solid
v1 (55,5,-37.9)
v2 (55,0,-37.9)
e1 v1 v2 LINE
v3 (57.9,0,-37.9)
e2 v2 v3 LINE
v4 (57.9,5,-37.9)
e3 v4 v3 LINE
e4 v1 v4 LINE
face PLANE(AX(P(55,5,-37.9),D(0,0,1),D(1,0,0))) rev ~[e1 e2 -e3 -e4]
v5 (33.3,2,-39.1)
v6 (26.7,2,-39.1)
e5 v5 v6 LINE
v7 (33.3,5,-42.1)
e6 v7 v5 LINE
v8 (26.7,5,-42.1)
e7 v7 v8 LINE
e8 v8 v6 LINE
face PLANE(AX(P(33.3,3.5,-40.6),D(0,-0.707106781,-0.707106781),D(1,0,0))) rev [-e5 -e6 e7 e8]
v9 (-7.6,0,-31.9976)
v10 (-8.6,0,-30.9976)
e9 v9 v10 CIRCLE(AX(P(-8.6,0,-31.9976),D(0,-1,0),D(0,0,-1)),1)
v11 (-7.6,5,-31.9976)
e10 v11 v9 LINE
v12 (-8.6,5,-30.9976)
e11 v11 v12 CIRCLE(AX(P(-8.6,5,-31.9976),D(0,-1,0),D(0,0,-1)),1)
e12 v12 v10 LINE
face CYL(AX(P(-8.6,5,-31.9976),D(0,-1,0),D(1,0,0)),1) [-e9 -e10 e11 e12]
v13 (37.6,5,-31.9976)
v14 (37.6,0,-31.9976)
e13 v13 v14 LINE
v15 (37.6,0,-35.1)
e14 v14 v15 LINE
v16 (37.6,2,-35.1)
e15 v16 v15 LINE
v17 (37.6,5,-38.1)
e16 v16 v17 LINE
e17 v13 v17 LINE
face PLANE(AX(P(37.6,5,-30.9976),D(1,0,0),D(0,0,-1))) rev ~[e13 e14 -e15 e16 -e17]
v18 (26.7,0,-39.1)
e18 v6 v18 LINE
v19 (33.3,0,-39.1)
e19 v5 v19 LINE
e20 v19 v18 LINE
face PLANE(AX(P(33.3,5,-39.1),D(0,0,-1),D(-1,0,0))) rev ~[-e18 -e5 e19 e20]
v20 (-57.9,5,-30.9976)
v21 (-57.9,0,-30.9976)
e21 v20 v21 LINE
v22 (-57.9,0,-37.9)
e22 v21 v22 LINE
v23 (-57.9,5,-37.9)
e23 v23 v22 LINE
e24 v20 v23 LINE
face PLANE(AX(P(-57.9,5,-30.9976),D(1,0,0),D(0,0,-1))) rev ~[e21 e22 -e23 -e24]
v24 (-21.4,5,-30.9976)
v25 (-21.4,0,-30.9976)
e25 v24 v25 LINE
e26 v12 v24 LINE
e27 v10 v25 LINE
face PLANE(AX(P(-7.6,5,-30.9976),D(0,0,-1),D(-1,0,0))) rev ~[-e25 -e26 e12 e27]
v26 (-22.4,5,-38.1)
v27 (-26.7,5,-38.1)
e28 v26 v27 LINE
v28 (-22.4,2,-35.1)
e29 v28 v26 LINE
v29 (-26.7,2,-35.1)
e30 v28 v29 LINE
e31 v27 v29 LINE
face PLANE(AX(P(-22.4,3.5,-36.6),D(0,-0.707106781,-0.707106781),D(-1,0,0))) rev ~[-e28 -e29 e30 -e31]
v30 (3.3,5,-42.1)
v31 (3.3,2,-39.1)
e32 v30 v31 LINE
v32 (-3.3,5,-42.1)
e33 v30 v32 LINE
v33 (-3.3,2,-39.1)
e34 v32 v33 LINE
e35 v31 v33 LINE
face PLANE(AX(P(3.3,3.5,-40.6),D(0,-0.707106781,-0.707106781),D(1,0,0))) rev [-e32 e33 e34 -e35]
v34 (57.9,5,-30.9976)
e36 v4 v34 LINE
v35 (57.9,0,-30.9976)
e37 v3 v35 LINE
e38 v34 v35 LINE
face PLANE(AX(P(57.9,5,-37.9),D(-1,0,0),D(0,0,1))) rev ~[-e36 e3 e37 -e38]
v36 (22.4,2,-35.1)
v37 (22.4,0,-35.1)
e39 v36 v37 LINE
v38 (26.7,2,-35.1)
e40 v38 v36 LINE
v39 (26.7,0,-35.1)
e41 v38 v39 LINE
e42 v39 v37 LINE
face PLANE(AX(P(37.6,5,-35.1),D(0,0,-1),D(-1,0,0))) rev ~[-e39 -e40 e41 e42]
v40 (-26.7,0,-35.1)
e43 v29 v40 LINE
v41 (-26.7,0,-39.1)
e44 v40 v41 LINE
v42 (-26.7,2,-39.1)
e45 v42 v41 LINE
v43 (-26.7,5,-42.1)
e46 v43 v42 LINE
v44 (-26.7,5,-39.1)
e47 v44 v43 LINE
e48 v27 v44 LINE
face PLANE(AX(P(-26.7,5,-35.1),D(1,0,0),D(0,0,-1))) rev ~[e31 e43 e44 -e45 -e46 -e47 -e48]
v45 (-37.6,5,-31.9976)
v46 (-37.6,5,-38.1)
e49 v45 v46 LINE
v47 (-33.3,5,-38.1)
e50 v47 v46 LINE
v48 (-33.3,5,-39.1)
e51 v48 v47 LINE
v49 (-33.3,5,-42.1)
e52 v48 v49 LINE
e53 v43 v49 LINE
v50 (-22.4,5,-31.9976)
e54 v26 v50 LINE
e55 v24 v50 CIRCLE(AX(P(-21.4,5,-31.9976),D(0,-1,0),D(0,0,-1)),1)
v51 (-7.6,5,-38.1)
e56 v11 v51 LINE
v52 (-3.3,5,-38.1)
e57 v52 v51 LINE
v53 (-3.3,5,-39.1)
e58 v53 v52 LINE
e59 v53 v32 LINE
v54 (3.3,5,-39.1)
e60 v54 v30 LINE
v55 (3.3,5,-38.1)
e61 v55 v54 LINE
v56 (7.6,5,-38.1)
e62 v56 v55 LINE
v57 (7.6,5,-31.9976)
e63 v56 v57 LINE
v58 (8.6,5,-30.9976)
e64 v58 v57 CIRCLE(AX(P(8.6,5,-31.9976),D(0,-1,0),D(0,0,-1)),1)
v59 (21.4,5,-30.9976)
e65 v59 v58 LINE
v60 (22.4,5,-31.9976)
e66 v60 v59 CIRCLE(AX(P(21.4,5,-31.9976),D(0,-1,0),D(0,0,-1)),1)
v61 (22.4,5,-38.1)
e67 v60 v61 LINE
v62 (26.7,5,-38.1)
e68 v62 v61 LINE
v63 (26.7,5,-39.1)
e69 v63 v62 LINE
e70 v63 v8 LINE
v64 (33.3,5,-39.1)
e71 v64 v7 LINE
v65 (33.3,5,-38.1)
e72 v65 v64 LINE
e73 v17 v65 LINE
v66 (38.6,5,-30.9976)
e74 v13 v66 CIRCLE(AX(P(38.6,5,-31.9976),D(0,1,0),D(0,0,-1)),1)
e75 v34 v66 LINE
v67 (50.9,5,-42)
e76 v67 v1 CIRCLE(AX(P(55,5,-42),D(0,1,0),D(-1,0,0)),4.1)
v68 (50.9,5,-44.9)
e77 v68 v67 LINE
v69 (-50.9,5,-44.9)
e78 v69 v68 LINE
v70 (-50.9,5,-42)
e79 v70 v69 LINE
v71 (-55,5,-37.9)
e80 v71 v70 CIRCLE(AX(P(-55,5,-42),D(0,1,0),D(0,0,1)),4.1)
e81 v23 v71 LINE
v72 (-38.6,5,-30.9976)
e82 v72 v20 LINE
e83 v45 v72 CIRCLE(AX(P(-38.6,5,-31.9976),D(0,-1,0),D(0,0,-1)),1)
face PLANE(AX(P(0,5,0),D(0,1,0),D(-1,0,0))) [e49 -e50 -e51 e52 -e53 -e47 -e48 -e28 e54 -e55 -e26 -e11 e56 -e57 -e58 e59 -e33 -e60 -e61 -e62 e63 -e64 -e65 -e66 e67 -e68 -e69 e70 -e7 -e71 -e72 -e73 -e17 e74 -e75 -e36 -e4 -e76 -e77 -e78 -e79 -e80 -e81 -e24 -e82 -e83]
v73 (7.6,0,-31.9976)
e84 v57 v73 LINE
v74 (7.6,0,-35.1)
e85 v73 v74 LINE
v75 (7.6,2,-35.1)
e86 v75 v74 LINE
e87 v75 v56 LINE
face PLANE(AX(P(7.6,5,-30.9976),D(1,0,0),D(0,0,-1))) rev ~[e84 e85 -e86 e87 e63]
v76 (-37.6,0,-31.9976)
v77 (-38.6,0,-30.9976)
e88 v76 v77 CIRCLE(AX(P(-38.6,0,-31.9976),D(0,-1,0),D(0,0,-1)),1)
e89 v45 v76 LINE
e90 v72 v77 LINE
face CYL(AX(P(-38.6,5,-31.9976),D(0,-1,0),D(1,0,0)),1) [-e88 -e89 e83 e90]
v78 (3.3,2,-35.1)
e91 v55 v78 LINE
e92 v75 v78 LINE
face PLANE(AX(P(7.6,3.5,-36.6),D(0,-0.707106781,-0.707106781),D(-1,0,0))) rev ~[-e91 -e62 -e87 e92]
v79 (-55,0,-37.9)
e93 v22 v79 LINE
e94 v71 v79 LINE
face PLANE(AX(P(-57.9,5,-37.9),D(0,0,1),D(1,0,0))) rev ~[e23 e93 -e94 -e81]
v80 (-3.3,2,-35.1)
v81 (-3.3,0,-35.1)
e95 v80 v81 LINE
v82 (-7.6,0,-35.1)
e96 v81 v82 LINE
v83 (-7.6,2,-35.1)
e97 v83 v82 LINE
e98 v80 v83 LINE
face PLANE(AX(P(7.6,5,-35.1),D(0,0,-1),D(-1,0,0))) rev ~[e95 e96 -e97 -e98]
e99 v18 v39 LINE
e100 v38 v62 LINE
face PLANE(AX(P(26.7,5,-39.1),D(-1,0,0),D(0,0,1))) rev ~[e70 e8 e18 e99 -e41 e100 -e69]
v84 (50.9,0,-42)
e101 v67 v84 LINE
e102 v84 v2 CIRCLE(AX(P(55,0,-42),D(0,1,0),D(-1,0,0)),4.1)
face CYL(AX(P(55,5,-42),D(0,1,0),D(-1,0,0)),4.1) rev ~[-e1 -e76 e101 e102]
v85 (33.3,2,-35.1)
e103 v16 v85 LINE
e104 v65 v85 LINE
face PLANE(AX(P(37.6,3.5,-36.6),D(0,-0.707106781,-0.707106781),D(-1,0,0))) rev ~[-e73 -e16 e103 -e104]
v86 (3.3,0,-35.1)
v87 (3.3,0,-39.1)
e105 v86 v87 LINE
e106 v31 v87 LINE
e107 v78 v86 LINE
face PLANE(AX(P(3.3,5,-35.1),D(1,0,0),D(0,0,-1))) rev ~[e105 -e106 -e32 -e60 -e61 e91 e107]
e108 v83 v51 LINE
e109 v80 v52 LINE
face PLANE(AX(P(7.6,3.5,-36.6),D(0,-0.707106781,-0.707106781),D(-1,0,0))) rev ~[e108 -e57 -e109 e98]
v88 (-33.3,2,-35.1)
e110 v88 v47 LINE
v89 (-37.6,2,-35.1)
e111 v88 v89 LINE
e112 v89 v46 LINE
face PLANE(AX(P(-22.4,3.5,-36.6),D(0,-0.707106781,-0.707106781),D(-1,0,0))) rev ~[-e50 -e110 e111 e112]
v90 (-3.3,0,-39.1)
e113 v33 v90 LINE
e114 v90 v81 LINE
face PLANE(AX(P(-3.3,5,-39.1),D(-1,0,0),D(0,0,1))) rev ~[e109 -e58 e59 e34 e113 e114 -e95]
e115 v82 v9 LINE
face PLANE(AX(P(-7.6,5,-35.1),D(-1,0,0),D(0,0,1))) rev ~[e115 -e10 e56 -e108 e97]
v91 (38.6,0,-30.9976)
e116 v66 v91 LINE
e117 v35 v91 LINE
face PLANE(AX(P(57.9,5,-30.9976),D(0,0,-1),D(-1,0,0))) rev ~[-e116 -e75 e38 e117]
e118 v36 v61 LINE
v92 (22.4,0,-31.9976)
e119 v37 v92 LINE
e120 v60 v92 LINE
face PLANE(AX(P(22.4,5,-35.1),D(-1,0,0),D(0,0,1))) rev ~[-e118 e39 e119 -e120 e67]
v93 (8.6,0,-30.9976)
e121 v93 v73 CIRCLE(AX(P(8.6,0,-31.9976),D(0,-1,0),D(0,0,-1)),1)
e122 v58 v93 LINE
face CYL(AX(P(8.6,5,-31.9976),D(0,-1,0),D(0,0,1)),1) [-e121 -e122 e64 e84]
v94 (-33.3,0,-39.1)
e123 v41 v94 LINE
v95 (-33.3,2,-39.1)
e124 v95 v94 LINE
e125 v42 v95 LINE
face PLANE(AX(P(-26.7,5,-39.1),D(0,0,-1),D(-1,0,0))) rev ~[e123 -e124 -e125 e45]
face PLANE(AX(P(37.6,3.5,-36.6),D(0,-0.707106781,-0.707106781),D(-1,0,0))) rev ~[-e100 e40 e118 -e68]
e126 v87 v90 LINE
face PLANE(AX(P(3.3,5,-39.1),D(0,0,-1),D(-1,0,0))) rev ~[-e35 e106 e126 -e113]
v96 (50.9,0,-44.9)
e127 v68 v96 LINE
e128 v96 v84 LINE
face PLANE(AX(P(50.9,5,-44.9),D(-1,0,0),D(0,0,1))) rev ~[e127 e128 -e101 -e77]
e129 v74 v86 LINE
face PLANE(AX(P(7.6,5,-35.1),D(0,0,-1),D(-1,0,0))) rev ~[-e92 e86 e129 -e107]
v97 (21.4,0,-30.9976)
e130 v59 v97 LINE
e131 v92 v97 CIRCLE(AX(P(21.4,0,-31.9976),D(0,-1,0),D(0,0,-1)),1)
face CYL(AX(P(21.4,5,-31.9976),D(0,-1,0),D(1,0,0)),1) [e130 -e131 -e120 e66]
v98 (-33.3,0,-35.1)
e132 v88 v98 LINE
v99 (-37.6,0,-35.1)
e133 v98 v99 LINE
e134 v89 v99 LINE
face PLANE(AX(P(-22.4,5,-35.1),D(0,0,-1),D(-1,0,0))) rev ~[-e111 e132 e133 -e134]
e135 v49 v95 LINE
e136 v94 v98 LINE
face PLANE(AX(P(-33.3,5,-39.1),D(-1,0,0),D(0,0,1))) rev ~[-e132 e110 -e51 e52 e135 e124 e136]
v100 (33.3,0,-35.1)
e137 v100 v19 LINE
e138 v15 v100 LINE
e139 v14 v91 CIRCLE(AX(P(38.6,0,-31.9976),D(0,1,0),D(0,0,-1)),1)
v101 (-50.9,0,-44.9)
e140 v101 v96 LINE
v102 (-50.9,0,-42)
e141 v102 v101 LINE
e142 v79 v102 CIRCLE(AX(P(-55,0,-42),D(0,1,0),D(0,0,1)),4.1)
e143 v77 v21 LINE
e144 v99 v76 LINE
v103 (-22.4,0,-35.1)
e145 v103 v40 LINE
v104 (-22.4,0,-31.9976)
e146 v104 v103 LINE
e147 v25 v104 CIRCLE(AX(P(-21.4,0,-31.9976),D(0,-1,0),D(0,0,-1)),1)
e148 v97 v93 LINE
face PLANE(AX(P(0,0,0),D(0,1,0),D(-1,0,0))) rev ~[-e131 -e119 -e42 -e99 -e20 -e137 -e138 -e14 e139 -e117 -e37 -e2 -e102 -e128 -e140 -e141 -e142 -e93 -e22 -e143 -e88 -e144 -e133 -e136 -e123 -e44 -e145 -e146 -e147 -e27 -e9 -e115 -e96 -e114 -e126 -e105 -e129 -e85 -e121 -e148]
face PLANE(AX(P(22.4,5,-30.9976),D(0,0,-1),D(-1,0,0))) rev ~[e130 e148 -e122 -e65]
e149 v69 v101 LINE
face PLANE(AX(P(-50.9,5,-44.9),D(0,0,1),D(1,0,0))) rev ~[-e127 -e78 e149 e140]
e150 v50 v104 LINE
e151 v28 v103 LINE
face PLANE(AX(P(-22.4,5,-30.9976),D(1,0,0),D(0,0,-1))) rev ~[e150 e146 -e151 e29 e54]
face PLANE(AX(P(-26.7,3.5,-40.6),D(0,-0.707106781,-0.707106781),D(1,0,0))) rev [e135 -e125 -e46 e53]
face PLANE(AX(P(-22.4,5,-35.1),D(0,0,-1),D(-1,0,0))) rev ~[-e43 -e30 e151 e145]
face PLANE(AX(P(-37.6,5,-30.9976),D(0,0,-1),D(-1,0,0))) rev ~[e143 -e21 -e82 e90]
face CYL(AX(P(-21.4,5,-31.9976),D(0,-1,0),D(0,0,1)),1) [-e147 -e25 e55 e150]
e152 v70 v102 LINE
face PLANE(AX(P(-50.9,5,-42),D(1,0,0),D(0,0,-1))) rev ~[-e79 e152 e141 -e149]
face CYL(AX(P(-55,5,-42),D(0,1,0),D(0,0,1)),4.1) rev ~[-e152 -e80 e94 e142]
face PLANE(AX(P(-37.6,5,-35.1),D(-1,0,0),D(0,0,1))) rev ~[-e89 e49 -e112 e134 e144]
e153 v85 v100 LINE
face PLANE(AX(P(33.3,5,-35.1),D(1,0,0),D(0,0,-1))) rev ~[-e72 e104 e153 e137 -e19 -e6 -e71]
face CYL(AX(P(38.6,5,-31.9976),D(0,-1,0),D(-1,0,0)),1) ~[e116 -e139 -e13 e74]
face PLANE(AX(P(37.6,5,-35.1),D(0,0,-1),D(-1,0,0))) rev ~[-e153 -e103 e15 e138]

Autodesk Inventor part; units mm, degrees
ref_plane "YZ Plane" through (0, 0, 0) normal (1, 0, 0) x (0, 1, 0)
ref_plane "XZ Plane" through (0, 0, 0) normal (0, 1, 0) x (-1, 0, 0)
ref_plane "XY Plane" through (0, 0, 0) normal (0, 0, 1) x (1, 0, 0)
sketch "Esquisse1" plane through (0, 0, 0) normal (0, 1, 0) x (-1, 0, 0)
  line L0 (60, -42) -> (60, 42)
  line L1 (55, 39) -> (57, 39)
  arc A0 (52, 42) -> (55, 39) centre (55, 42) ccw
  line L2 (52, 44) -> (52, 42)
  line L3 (55, 46) -> (-55, 46)
  circle A1 centre (55, 42.115) radius 2
  arc A2 (60, 42) -> (55, 47) centre (55, 42) ccw
  line L4 (55, 47) -> (-55, 47)
  line L5 (-55, 47) -> (55, 47)
  line L6 (51, 45) -> (-51, 45)
  line L7 (-52, 42) -> (-51, 42)
  arc A3 (-57, 39) -> (-58, 38) centre (-57, 38) ccw
  circle A4 centre (-55, 42.115) radius 2
  line L8 (-55, 39) -> (-55, 38)
  line L9 (-52, 44) -> (-52, 42)
  arc A5 (-51, 45) -> (-52, 44) centre (-51, 44) ccw
  line L10 (-55, 39) -> (-57, 39)
  arc A6 (-55, 39) -> (-52, 42) centre (-55, 42) ccw
  arc A7 (-57, 39) -> (-58, 38) centre (-57, 38) ccw
  circle A8 centre (55, -42.115) radius 2
  line L11 (-55, -39) -> (-57, -39)
  arc A9 (-52, -42) -> (-55, -39) centre (-55, -42) ccw
  line L12 (-52, -44) -> (-52, -42)
  line L13 (52, -42) -> (52, -44)
  circle A10 centre (-55, -42.115) radius 2
  line L14 (-51, -45) -> (51, -45)
  line L15 (51, -45) -> (-51, -45)
  line L16 (-55, -46) -> (55, -46)
  line L17 (-55, -47) -> (55, -47)
  line L18 (55, -47) -> (-55, -47)
  arc A11 (-51, 45) -> (-52, 44) centre (-51, 44) ccw
  line L19 (-52, 42) -> (-52, 44)
  arc A12 (-55, 46) -> (-59, 42) centre (-55, 42) ccw
  line L20 (-51, 42) -> (-51, 45)
  arc A13 (-55, 47) -> (-60, 42) centre (-55, 42) ccw
  circle A14 centre (-55, 42.115) radius 2
  line L21 (-55, 46) -> (-55, 47)
  arc A15 (-55, 47) -> (-60, 42) centre (-55, 42) ccw
  line L22 (52, -42) -> (51, -42)
  arc A16 (51, -45) -> (52, -44) centre (51, -44) ccw
  line L23 (-51, 45) -> (51, 45)
  arc A17 (52, 42) -> (55, 39) centre (55, 42) ccw
  line L24 (55, -39) -> (55, -38)
  line L25 (57, -39) -> (55, -39)
  line L26 (55, -39) -> (57, -39)
  arc A18 (55, -39) -> (52, -42) centre (55, -42) ccw
  arc A19 (57, -39) -> (58, -38) centre (57, -38) ccw
  line L27 (52, -44) -> (52, -42)
  arc A20 (51, -45) -> (52, -44) centre (51, -44) ccw
  circle A21 centre (55, -42.115) radius 2
  arc A22 (57, -39) -> (58, -38) centre (57, -38) ccw
  line L28 (58, 38) -> (58, -38)
  circle A23 centre (55, 42.115) radius 2
  line L29 (52, 42) -> (52, 44)
  line L30 (52, 42) -> (51, 42)
  arc A24 (52, 44) -> (51, 45) centre (51, 44) ccw
  line L31 (55, 39) -> (55, 38)
  arc A25 (52, 44) -> (51, 45) centre (51, 44) ccw
  arc A26 (58, 38) -> (57, 39) centre (57, 38) ccw
  arc A27 (58, 38) -> (57, 39) centre (57, 38) ccw
  line L32 (57, 39) -> (55, 39)
  line L33 (58, -38) -> (58, 38)
  line L34 (58, -38) -> (55, -38)
  line L35 (55, 46) -> (55, 47)
  arc A28 (59, 42) -> (55, 46) centre (55, 42) ccw
  arc A29 (60, 42) -> (55, 47) centre (55, 42) ccw
  line L36 (59, -42) -> (59, 42)
  line L37 (59, 42) -> (60, 42)
  line L38 (60, 42) -> (60, -42)
  line L39 (51, 45) -> (51, 42)
  arc A30 (51, 42) -> (55, 38) centre (55, 42) ccw
  line L40 (55, 38) -> (58, 38)
  arc A31 (55, -39) -> (52, -42) centre (55, -42) ccw
  arc A32 (55, -47) -> (60, -42) centre (55, -42) ccw
  line L41 (-55, -38) -> (-58, -38)
  arc A33 (-51, -42) -> (-55, -38) centre (-55, -42) ccw
  line L42 (-52, -42) -> (-51, -42)
  line L43 (-52, -42) -> (-52, -44)
  line L44 (-51, -45) -> (-51, -42)
  arc A34 (-52, -44) -> (-51, -45) centre (-51, -44) ccw
  circle A35 centre (-55, -42.115) radius 2
  line L45 (-55, -46) -> (-55, -47)
  arc A36 (-59, -42) -> (-55, -46) centre (-55, -42) ccw
  arc A37 (-60, -42) -> (-55, -47) centre (-55, -42) ccw
  line L46 (-60, -42) -> (-59, -42)
  arc A38 (-60, -42) -> (-55, -47) centre (-55, -42) ccw
  arc A39 (-58, -38) -> (-57, -39) centre (-57, -38) ccw
  line L47 (-57, 39) -> (-55, 39)
  arc A40 (-55, 39) -> (-52, 42) centre (-55, 42) ccw
  line L48 (-55, -39) -> (-55, -38)
  line L49 (-58, -38) -> (-58, 38)
  arc A41 (-52, -44) -> (-51, -45) centre (-51, -44) ccw
  arc A42 (-58, -38) -> (-57, -39) centre (-57, -38) ccw
  line L50 (-60, 42) -> (-60, -42)
  arc A43 (-52, -42) -> (-55, -39) centre (-55, -42) ccw
  line L51 (-57, -39) -> (-55, -39)
  line L52 (-58, 38) -> (-58, -38)
  line L53 (-58, 38) -> (-55, 38)
  arc A44 (-55, 38) -> (-51, 42) centre (-55, 42) ccw
  line L54 (-59, 42) -> (-60, 42)
  line L55 (-60, -42) -> (-60, 42)
  line L56 (-59, 42) -> (-59, -42)
  line L57 (55, -46) -> (55, -47)
  arc A45 (55, -38) -> (51, -42) centre (55, -42) ccw
  line L58 (51, -42) -> (51, -45)
  arc A46 (55, -46) -> (59, -42) centre (55, -42) ccw
  line L59 (59, -42) -> (60, -42)
  arc A47 (55, -47) -> (60, -42) centre (55, -42) ccw
  line L60 (-37.5, -35) -> (-22.5, -35)
  line L61 (-37.5, -35) -> (-22.5, -35)
  line L62 (-33.25, 35) -> (-37.5, 35)
  line L63 (-33.25, 35) -> (-31.25, 35)
  line L64 (-31.25, 32) -> (-33.25, 32)
  line L65 (-31.25, 35) -> (-31.25, 32)
  line L66 (-31.25, 32) -> (-33.25, 32)
  line L67 (-28.75, 35) -> (-31.25, 35)
  line L68 (-28.75, 32) -> (-28.75, 35)
  line L69 (-28.75, 32) -> (-28.75, 35)
  line L70 (-26.75, 32) -> (-28.75, 32)
  line L71 (-26.75, 32) -> (-28.75, 32)
  line L72 (-22.5, 35) -> (-37.5, 35)
  line L73 (-22.5, 35) -> (-26.75, 35)
  line L74 (-37.5, 35) -> (-37.5, -35)
  line L75 (-37.5, 35) -> (-37.5, -35)
  line L76 (-22.5, -35) -> (-22.5, 35)
  line L77 (-22.5, -35) -> (-22.5, 35)
  line L78 (-28.75, 35) -> (-26.75, 35)
  line L79 (-31.25, 35) -> (-31.25, 32)
  line L80 (-26.75, 35) -> (-26.75, 32)
  line L81 (-26.75, 35) -> (-26.75, 32)
  line L82 (-33.25, 32) -> (-33.25, 35)
  line L83 (-33.25, 32) -> (-33.25, 35)
  line L84 (-7.5, -35) -> (7.5, -35)
  line L85 (-7.5, -35) -> (7.5, -35)
  line L86 (-3.25, 35) -> (-7.5, 35)
  line L87 (-3.25, 35) -> (-1.25, 35)
  line L88 (-1.25, 32) -> (-3.25, 32)
  line L89 (-1.25, 35) -> (-1.25, 32)
  line L90 (-1.25, 32) -> (-3.25, 32)
  line L91 (1.25, 35) -> (-1.25, 35)
  line L92 (1.25, 32) -> (1.25, 35)
  line L93 (1.25, 32) -> (1.25, 35)
  line L94 (3.25, 32) -> (1.25, 32)
  line L95 (3.25, 32) -> (1.25, 32)
  line L96 (7.5, 35) -> (-7.5, 35)
  line L97 (7.5, 35) -> (3.25, 35)
  line L98 (-7.5, 35) -> (-7.5, -35)
  line L99 (-7.5, 35) -> (-7.5, -35)
  line L100 (7.5, -35) -> (7.5, 35)
  line L101 (7.5, -35) -> (7.5, 35)
  line L102 (1.25, 35) -> (3.25, 35)
  line L103 (-1.25, 35) -> (-1.25, 32)
  line L104 (3.25, 35) -> (3.25, 32)
  line L105 (3.25, 35) -> (3.25, 32)
  line L106 (-3.25, 32) -> (-3.25, 35)
  line L107 (-3.25, 32) -> (-3.25, 35)
  line L108 (22.5, -35) -> (37.5, -35)
  line L109 (22.5, -35) -> (37.5, -35)
  line L110 (26.75, 35) -> (22.5, 35)
  line L111 (26.75, 35) -> (28.75, 35)
  line L112 (28.75, 32) -> (26.75, 32)
  line L113 (28.75, 35) -> (28.75, 32)
  line L114 (28.75, 32) -> (26.75, 32)
  line L115 (31.25, 35) -> (28.75, 35)
  line L116 (31.25, 32) -> (31.25, 35)
  line L117 (31.25, 32) -> (31.25, 35)
  line L118 (33.25, 32) -> (31.25, 32)
  line L119 (33.25, 32) -> (31.25, 32)
  line L120 (37.5, 35) -> (22.5, 35)
  line L121 (37.5, 35) -> (33.25, 35)
  line L122 (22.5, 35) -> (22.5, -35)
  line L123 (22.5, 35) -> (22.5, -35)
  line L124 (37.5, -35) -> (37.5, 35)
  line L125 (37.5, -35) -> (37.5, 35)
  line L126 (31.25, 35) -> (33.25, 35)
  line L127 (28.75, 35) -> (28.75, 32)
  line L128 (33.25, 35) -> (33.25, 32)
  line L129 (33.25, 35) -> (33.25, 32)
  line L130 (26.75, 32) -> (26.75, 35)
  line L131 (26.75, 32) -> (26.75, 35)
  line L132 (55, -42) -> (-55, 42) construction
  line L133 (55, 42) -> (-55, -42) construction
  line L134 (58, -30.8976) -> (-58, -30.8976)
  point P0 (0, 0)
  point P1 (0, 0)
  point P2 (37.5, -30.8976)
  point P3 (22.5, -30.8976)
  point P4 (7.5, -30.8976)
  point P5 (-7.5, -30.8976)
  point P6 (-22.5, -30.8976)
  point P7 (-37.5, -30.8976)
  point P8 (-58, -30.8976)
extrude "Extrusion1" add sketch "Esquisse1" along normal blind 5 contours L28 L34 A45 L58 L14 L44 A33 L41 L49 L134 L74 L60 L76 L98 L84 L100 L122 L108 L124
sketch "Esquisse2" plane through (0, 5, 0) normal (0, 1, 0) x (1, 0, 0)
  line L0 (-58, 38) -> (-58, 30.8976) projected
  line L1 (-58, 30.8976) -> (-37.5, 30.8976) projected
  line L2 (-37.5, 30.8976) -> (-37.5, 35) projected
  line L3 (-37.5, 35) -> (-22.5, 35) projected
  line L4 (-22.5, 35) -> (-22.5, 30.8976) projected
  line L5 (-22.5, 30.8976) -> (-7.5, 30.8976) projected
  line L6 (-7.5, 30.8976) -> (-7.5, 35) projected
  line L7 (-7.5, 35) -> (7.5, 35) projected
  line L8 (7.5, 35) -> (7.5, 30.8976) projected
  line L9 (7.5, 30.8976) -> (22.5, 30.8976) projected
  line L10 (22.5, 30.8976) -> (22.5, 35) projected
  line L11 (22.5, 35) -> (37.5, 35) projected
  line L12 (37.5, 35) -> (37.5, 30.8976) projected
  line L13 (37.5, 30.8976) -> (58, 30.8976) projected
  line L14 (58, 30.8976) -> (58, 38) projected
  line L15 (58, 38) -> (55, 38) projected
  arc A0 (51, 42) -> (55, 38) centre (55, 42) ccw projected
  line L16 (51, 42) -> (51, 45) projected
  line L17 (51, 45) -> (-51, 45) projected
  line L18 (-51, 45) -> (-51, 42) projected
  arc A1 (-55, 38) -> (-51, 42) centre (-55, 42) ccw projected
  line L19 (-55, 38) -> (-58, 38) projected
  line L20 (-50.9, 44.9) -> (50.9, 44.9)
  line L21 (50.9, 44.9) -> (50.9, 42)
  arc A2 (50.9, 42) -> (55, 37.9) centre (55, 42) ccw
  line L22 (55, 37.9) -> (57.9, 37.9)
  line L23 (57.9, 37.9) -> (57.9, 30.9976)
  line L24 (57.9, 30.9976) -> (37.6, 30.9976)
  line L25 (37.6, 30.9976) -> (37.6, 35.1)
  line L26 (37.6, 35.1) -> (22.4, 35.1)
  line L27 (22.4, 35.1) -> (22.4, 30.9976)
  line L28 (22.4, 30.9976) -> (7.6, 30.9976)
  line L29 (7.6, 30.9976) -> (7.6, 35.1)
  line L30 (7.6, 35.1) -> (-7.6, 35.1)
  line L31 (-7.6, 35.1) -> (-7.6, 30.9976)
  line L32 (-7.6, 30.9976) -> (-22.4, 30.9976)
  line L33 (-22.4, 30.9976) -> (-22.4, 35.1)
  line L34 (-22.4, 35.1) -> (-37.6, 35.1)
  line L35 (-37.6, 35.1) -> (-37.6, 30.9976)
  line L36 (-37.6, 30.9976) -> (-57.9, 30.9976)
  line L37 (-57.9, 30.9976) -> (-57.9, 37.9)
  line L38 (-57.9, 37.9) -> (-55, 37.9)
  arc A3 (-55, 37.9) -> (-50.9, 42) centre (-55, 42) ccw
  line L39 (-50.9, 42) -> (-50.9, 44.9)
  point P0 (0, 0)
  dimension "d2" = 0.1
extrude "Extrusion2" cut sketch "Esquisse2" against normal blind 5
chamfer "Chanfrein1" distance 3 angle 45 3 edges at (-30, 5, -35.1) (0, 5, -35.1) (30, 5, -35.1)
fillet "Congé1" radius 1 6 edges at (-37.6, 2.5, -30.9976) (-22.4, 2.5, -30.9976) (-7.6, 2.5, -30.9976) (7.6, 2.5, -30.9976) (22.4, 2.5, -30.9976) (37.6, 2.5, -30.9976)
sketch "Esquisse4" plane through (0, 5, 0) normal (0, 1, 0) x (1, 0, 0)
  line L0 (-33.3, 31.1) -> (-26.7, 31.1)
  line L1 (-26.7, 31.1) -> (-26.7, 39.1)
  line L2 (-26.7, 39.1) -> (-33.3, 39.1)
  line L3 (-33.3, 39.1) -> (-33.3, 31.1)
  line L4 (-22.4, 35.1) -> (-37.6, 35.1) projected
  line L5 (-33.3, 31.1) -> (-26.7, 39.1) construction
  line L6 (-26.7, 31.1) -> (-33.3, 39.1) construction
  line L7 (-3.3, 31.1) -> (3.3, 31.1)
  line L8 (3.3, 31.1) -> (3.3, 39.1)
  line L9 (3.3, 39.1) -> (-3.3, 39.1)
  line L10 (-3.3, 39.1) -> (-3.3, 31.1)
  line L11 (7.6, 35.1) -> (-7.6, 35.1) projected
  line L12 (-3.3, 31.1) -> (3.3, 39.1) construction
  line L13 (3.3, 31.1) -> (-3.3, 39.1) construction
  line L14 (26.7, 31.1) -> (33.3, 31.1)
  line L15 (33.3, 31.1) -> (33.3, 39.1)
  line L16 (33.3, 39.1) -> (26.7, 39.1)
  line L17 (26.7, 39.1) -> (26.7, 31.1)
  line L18 (37.6, 35.1) -> (22.4, 35.1) projected
  line L19 (26.7, 31.1) -> (33.3, 39.1) construction
  line L20 (33.3, 31.1) -> (26.7, 39.1) construction
  point P0 (0, 0)
  point P1 (-30, 35.1)
  point P2 (0, 35.1)
  point P3 (30, 35.1)
  point P4 (26.7, 35.1)
  point P5 (33.3, 35.1)
  point P6 (-3.3, 35.1)
  point P7 (3.3, 35.1)
  point P8 (-33.3, 35.1)
  point P9 (-26.7, 35.1)
  dimension "d9" = 6.6
  dimension "d10" = 8
  dimension "d11" = 6.6
  dimension "d12" = 8
  dimension "d13" = 6.6
extrude "Extrusion3" cut sketch "Esquisse4" against normal blind 5 contours L3 L2 L1 L4 | L10 L9 L8 L11 | L17 L16 L15 L18
chamfer "Chanfrein2" distance 3 angle 45 3 edges at (-30, 5, -39.1) (0, 5, -39.1) (30, 5, -39.1)
properties part number "Centreur_resistance"
